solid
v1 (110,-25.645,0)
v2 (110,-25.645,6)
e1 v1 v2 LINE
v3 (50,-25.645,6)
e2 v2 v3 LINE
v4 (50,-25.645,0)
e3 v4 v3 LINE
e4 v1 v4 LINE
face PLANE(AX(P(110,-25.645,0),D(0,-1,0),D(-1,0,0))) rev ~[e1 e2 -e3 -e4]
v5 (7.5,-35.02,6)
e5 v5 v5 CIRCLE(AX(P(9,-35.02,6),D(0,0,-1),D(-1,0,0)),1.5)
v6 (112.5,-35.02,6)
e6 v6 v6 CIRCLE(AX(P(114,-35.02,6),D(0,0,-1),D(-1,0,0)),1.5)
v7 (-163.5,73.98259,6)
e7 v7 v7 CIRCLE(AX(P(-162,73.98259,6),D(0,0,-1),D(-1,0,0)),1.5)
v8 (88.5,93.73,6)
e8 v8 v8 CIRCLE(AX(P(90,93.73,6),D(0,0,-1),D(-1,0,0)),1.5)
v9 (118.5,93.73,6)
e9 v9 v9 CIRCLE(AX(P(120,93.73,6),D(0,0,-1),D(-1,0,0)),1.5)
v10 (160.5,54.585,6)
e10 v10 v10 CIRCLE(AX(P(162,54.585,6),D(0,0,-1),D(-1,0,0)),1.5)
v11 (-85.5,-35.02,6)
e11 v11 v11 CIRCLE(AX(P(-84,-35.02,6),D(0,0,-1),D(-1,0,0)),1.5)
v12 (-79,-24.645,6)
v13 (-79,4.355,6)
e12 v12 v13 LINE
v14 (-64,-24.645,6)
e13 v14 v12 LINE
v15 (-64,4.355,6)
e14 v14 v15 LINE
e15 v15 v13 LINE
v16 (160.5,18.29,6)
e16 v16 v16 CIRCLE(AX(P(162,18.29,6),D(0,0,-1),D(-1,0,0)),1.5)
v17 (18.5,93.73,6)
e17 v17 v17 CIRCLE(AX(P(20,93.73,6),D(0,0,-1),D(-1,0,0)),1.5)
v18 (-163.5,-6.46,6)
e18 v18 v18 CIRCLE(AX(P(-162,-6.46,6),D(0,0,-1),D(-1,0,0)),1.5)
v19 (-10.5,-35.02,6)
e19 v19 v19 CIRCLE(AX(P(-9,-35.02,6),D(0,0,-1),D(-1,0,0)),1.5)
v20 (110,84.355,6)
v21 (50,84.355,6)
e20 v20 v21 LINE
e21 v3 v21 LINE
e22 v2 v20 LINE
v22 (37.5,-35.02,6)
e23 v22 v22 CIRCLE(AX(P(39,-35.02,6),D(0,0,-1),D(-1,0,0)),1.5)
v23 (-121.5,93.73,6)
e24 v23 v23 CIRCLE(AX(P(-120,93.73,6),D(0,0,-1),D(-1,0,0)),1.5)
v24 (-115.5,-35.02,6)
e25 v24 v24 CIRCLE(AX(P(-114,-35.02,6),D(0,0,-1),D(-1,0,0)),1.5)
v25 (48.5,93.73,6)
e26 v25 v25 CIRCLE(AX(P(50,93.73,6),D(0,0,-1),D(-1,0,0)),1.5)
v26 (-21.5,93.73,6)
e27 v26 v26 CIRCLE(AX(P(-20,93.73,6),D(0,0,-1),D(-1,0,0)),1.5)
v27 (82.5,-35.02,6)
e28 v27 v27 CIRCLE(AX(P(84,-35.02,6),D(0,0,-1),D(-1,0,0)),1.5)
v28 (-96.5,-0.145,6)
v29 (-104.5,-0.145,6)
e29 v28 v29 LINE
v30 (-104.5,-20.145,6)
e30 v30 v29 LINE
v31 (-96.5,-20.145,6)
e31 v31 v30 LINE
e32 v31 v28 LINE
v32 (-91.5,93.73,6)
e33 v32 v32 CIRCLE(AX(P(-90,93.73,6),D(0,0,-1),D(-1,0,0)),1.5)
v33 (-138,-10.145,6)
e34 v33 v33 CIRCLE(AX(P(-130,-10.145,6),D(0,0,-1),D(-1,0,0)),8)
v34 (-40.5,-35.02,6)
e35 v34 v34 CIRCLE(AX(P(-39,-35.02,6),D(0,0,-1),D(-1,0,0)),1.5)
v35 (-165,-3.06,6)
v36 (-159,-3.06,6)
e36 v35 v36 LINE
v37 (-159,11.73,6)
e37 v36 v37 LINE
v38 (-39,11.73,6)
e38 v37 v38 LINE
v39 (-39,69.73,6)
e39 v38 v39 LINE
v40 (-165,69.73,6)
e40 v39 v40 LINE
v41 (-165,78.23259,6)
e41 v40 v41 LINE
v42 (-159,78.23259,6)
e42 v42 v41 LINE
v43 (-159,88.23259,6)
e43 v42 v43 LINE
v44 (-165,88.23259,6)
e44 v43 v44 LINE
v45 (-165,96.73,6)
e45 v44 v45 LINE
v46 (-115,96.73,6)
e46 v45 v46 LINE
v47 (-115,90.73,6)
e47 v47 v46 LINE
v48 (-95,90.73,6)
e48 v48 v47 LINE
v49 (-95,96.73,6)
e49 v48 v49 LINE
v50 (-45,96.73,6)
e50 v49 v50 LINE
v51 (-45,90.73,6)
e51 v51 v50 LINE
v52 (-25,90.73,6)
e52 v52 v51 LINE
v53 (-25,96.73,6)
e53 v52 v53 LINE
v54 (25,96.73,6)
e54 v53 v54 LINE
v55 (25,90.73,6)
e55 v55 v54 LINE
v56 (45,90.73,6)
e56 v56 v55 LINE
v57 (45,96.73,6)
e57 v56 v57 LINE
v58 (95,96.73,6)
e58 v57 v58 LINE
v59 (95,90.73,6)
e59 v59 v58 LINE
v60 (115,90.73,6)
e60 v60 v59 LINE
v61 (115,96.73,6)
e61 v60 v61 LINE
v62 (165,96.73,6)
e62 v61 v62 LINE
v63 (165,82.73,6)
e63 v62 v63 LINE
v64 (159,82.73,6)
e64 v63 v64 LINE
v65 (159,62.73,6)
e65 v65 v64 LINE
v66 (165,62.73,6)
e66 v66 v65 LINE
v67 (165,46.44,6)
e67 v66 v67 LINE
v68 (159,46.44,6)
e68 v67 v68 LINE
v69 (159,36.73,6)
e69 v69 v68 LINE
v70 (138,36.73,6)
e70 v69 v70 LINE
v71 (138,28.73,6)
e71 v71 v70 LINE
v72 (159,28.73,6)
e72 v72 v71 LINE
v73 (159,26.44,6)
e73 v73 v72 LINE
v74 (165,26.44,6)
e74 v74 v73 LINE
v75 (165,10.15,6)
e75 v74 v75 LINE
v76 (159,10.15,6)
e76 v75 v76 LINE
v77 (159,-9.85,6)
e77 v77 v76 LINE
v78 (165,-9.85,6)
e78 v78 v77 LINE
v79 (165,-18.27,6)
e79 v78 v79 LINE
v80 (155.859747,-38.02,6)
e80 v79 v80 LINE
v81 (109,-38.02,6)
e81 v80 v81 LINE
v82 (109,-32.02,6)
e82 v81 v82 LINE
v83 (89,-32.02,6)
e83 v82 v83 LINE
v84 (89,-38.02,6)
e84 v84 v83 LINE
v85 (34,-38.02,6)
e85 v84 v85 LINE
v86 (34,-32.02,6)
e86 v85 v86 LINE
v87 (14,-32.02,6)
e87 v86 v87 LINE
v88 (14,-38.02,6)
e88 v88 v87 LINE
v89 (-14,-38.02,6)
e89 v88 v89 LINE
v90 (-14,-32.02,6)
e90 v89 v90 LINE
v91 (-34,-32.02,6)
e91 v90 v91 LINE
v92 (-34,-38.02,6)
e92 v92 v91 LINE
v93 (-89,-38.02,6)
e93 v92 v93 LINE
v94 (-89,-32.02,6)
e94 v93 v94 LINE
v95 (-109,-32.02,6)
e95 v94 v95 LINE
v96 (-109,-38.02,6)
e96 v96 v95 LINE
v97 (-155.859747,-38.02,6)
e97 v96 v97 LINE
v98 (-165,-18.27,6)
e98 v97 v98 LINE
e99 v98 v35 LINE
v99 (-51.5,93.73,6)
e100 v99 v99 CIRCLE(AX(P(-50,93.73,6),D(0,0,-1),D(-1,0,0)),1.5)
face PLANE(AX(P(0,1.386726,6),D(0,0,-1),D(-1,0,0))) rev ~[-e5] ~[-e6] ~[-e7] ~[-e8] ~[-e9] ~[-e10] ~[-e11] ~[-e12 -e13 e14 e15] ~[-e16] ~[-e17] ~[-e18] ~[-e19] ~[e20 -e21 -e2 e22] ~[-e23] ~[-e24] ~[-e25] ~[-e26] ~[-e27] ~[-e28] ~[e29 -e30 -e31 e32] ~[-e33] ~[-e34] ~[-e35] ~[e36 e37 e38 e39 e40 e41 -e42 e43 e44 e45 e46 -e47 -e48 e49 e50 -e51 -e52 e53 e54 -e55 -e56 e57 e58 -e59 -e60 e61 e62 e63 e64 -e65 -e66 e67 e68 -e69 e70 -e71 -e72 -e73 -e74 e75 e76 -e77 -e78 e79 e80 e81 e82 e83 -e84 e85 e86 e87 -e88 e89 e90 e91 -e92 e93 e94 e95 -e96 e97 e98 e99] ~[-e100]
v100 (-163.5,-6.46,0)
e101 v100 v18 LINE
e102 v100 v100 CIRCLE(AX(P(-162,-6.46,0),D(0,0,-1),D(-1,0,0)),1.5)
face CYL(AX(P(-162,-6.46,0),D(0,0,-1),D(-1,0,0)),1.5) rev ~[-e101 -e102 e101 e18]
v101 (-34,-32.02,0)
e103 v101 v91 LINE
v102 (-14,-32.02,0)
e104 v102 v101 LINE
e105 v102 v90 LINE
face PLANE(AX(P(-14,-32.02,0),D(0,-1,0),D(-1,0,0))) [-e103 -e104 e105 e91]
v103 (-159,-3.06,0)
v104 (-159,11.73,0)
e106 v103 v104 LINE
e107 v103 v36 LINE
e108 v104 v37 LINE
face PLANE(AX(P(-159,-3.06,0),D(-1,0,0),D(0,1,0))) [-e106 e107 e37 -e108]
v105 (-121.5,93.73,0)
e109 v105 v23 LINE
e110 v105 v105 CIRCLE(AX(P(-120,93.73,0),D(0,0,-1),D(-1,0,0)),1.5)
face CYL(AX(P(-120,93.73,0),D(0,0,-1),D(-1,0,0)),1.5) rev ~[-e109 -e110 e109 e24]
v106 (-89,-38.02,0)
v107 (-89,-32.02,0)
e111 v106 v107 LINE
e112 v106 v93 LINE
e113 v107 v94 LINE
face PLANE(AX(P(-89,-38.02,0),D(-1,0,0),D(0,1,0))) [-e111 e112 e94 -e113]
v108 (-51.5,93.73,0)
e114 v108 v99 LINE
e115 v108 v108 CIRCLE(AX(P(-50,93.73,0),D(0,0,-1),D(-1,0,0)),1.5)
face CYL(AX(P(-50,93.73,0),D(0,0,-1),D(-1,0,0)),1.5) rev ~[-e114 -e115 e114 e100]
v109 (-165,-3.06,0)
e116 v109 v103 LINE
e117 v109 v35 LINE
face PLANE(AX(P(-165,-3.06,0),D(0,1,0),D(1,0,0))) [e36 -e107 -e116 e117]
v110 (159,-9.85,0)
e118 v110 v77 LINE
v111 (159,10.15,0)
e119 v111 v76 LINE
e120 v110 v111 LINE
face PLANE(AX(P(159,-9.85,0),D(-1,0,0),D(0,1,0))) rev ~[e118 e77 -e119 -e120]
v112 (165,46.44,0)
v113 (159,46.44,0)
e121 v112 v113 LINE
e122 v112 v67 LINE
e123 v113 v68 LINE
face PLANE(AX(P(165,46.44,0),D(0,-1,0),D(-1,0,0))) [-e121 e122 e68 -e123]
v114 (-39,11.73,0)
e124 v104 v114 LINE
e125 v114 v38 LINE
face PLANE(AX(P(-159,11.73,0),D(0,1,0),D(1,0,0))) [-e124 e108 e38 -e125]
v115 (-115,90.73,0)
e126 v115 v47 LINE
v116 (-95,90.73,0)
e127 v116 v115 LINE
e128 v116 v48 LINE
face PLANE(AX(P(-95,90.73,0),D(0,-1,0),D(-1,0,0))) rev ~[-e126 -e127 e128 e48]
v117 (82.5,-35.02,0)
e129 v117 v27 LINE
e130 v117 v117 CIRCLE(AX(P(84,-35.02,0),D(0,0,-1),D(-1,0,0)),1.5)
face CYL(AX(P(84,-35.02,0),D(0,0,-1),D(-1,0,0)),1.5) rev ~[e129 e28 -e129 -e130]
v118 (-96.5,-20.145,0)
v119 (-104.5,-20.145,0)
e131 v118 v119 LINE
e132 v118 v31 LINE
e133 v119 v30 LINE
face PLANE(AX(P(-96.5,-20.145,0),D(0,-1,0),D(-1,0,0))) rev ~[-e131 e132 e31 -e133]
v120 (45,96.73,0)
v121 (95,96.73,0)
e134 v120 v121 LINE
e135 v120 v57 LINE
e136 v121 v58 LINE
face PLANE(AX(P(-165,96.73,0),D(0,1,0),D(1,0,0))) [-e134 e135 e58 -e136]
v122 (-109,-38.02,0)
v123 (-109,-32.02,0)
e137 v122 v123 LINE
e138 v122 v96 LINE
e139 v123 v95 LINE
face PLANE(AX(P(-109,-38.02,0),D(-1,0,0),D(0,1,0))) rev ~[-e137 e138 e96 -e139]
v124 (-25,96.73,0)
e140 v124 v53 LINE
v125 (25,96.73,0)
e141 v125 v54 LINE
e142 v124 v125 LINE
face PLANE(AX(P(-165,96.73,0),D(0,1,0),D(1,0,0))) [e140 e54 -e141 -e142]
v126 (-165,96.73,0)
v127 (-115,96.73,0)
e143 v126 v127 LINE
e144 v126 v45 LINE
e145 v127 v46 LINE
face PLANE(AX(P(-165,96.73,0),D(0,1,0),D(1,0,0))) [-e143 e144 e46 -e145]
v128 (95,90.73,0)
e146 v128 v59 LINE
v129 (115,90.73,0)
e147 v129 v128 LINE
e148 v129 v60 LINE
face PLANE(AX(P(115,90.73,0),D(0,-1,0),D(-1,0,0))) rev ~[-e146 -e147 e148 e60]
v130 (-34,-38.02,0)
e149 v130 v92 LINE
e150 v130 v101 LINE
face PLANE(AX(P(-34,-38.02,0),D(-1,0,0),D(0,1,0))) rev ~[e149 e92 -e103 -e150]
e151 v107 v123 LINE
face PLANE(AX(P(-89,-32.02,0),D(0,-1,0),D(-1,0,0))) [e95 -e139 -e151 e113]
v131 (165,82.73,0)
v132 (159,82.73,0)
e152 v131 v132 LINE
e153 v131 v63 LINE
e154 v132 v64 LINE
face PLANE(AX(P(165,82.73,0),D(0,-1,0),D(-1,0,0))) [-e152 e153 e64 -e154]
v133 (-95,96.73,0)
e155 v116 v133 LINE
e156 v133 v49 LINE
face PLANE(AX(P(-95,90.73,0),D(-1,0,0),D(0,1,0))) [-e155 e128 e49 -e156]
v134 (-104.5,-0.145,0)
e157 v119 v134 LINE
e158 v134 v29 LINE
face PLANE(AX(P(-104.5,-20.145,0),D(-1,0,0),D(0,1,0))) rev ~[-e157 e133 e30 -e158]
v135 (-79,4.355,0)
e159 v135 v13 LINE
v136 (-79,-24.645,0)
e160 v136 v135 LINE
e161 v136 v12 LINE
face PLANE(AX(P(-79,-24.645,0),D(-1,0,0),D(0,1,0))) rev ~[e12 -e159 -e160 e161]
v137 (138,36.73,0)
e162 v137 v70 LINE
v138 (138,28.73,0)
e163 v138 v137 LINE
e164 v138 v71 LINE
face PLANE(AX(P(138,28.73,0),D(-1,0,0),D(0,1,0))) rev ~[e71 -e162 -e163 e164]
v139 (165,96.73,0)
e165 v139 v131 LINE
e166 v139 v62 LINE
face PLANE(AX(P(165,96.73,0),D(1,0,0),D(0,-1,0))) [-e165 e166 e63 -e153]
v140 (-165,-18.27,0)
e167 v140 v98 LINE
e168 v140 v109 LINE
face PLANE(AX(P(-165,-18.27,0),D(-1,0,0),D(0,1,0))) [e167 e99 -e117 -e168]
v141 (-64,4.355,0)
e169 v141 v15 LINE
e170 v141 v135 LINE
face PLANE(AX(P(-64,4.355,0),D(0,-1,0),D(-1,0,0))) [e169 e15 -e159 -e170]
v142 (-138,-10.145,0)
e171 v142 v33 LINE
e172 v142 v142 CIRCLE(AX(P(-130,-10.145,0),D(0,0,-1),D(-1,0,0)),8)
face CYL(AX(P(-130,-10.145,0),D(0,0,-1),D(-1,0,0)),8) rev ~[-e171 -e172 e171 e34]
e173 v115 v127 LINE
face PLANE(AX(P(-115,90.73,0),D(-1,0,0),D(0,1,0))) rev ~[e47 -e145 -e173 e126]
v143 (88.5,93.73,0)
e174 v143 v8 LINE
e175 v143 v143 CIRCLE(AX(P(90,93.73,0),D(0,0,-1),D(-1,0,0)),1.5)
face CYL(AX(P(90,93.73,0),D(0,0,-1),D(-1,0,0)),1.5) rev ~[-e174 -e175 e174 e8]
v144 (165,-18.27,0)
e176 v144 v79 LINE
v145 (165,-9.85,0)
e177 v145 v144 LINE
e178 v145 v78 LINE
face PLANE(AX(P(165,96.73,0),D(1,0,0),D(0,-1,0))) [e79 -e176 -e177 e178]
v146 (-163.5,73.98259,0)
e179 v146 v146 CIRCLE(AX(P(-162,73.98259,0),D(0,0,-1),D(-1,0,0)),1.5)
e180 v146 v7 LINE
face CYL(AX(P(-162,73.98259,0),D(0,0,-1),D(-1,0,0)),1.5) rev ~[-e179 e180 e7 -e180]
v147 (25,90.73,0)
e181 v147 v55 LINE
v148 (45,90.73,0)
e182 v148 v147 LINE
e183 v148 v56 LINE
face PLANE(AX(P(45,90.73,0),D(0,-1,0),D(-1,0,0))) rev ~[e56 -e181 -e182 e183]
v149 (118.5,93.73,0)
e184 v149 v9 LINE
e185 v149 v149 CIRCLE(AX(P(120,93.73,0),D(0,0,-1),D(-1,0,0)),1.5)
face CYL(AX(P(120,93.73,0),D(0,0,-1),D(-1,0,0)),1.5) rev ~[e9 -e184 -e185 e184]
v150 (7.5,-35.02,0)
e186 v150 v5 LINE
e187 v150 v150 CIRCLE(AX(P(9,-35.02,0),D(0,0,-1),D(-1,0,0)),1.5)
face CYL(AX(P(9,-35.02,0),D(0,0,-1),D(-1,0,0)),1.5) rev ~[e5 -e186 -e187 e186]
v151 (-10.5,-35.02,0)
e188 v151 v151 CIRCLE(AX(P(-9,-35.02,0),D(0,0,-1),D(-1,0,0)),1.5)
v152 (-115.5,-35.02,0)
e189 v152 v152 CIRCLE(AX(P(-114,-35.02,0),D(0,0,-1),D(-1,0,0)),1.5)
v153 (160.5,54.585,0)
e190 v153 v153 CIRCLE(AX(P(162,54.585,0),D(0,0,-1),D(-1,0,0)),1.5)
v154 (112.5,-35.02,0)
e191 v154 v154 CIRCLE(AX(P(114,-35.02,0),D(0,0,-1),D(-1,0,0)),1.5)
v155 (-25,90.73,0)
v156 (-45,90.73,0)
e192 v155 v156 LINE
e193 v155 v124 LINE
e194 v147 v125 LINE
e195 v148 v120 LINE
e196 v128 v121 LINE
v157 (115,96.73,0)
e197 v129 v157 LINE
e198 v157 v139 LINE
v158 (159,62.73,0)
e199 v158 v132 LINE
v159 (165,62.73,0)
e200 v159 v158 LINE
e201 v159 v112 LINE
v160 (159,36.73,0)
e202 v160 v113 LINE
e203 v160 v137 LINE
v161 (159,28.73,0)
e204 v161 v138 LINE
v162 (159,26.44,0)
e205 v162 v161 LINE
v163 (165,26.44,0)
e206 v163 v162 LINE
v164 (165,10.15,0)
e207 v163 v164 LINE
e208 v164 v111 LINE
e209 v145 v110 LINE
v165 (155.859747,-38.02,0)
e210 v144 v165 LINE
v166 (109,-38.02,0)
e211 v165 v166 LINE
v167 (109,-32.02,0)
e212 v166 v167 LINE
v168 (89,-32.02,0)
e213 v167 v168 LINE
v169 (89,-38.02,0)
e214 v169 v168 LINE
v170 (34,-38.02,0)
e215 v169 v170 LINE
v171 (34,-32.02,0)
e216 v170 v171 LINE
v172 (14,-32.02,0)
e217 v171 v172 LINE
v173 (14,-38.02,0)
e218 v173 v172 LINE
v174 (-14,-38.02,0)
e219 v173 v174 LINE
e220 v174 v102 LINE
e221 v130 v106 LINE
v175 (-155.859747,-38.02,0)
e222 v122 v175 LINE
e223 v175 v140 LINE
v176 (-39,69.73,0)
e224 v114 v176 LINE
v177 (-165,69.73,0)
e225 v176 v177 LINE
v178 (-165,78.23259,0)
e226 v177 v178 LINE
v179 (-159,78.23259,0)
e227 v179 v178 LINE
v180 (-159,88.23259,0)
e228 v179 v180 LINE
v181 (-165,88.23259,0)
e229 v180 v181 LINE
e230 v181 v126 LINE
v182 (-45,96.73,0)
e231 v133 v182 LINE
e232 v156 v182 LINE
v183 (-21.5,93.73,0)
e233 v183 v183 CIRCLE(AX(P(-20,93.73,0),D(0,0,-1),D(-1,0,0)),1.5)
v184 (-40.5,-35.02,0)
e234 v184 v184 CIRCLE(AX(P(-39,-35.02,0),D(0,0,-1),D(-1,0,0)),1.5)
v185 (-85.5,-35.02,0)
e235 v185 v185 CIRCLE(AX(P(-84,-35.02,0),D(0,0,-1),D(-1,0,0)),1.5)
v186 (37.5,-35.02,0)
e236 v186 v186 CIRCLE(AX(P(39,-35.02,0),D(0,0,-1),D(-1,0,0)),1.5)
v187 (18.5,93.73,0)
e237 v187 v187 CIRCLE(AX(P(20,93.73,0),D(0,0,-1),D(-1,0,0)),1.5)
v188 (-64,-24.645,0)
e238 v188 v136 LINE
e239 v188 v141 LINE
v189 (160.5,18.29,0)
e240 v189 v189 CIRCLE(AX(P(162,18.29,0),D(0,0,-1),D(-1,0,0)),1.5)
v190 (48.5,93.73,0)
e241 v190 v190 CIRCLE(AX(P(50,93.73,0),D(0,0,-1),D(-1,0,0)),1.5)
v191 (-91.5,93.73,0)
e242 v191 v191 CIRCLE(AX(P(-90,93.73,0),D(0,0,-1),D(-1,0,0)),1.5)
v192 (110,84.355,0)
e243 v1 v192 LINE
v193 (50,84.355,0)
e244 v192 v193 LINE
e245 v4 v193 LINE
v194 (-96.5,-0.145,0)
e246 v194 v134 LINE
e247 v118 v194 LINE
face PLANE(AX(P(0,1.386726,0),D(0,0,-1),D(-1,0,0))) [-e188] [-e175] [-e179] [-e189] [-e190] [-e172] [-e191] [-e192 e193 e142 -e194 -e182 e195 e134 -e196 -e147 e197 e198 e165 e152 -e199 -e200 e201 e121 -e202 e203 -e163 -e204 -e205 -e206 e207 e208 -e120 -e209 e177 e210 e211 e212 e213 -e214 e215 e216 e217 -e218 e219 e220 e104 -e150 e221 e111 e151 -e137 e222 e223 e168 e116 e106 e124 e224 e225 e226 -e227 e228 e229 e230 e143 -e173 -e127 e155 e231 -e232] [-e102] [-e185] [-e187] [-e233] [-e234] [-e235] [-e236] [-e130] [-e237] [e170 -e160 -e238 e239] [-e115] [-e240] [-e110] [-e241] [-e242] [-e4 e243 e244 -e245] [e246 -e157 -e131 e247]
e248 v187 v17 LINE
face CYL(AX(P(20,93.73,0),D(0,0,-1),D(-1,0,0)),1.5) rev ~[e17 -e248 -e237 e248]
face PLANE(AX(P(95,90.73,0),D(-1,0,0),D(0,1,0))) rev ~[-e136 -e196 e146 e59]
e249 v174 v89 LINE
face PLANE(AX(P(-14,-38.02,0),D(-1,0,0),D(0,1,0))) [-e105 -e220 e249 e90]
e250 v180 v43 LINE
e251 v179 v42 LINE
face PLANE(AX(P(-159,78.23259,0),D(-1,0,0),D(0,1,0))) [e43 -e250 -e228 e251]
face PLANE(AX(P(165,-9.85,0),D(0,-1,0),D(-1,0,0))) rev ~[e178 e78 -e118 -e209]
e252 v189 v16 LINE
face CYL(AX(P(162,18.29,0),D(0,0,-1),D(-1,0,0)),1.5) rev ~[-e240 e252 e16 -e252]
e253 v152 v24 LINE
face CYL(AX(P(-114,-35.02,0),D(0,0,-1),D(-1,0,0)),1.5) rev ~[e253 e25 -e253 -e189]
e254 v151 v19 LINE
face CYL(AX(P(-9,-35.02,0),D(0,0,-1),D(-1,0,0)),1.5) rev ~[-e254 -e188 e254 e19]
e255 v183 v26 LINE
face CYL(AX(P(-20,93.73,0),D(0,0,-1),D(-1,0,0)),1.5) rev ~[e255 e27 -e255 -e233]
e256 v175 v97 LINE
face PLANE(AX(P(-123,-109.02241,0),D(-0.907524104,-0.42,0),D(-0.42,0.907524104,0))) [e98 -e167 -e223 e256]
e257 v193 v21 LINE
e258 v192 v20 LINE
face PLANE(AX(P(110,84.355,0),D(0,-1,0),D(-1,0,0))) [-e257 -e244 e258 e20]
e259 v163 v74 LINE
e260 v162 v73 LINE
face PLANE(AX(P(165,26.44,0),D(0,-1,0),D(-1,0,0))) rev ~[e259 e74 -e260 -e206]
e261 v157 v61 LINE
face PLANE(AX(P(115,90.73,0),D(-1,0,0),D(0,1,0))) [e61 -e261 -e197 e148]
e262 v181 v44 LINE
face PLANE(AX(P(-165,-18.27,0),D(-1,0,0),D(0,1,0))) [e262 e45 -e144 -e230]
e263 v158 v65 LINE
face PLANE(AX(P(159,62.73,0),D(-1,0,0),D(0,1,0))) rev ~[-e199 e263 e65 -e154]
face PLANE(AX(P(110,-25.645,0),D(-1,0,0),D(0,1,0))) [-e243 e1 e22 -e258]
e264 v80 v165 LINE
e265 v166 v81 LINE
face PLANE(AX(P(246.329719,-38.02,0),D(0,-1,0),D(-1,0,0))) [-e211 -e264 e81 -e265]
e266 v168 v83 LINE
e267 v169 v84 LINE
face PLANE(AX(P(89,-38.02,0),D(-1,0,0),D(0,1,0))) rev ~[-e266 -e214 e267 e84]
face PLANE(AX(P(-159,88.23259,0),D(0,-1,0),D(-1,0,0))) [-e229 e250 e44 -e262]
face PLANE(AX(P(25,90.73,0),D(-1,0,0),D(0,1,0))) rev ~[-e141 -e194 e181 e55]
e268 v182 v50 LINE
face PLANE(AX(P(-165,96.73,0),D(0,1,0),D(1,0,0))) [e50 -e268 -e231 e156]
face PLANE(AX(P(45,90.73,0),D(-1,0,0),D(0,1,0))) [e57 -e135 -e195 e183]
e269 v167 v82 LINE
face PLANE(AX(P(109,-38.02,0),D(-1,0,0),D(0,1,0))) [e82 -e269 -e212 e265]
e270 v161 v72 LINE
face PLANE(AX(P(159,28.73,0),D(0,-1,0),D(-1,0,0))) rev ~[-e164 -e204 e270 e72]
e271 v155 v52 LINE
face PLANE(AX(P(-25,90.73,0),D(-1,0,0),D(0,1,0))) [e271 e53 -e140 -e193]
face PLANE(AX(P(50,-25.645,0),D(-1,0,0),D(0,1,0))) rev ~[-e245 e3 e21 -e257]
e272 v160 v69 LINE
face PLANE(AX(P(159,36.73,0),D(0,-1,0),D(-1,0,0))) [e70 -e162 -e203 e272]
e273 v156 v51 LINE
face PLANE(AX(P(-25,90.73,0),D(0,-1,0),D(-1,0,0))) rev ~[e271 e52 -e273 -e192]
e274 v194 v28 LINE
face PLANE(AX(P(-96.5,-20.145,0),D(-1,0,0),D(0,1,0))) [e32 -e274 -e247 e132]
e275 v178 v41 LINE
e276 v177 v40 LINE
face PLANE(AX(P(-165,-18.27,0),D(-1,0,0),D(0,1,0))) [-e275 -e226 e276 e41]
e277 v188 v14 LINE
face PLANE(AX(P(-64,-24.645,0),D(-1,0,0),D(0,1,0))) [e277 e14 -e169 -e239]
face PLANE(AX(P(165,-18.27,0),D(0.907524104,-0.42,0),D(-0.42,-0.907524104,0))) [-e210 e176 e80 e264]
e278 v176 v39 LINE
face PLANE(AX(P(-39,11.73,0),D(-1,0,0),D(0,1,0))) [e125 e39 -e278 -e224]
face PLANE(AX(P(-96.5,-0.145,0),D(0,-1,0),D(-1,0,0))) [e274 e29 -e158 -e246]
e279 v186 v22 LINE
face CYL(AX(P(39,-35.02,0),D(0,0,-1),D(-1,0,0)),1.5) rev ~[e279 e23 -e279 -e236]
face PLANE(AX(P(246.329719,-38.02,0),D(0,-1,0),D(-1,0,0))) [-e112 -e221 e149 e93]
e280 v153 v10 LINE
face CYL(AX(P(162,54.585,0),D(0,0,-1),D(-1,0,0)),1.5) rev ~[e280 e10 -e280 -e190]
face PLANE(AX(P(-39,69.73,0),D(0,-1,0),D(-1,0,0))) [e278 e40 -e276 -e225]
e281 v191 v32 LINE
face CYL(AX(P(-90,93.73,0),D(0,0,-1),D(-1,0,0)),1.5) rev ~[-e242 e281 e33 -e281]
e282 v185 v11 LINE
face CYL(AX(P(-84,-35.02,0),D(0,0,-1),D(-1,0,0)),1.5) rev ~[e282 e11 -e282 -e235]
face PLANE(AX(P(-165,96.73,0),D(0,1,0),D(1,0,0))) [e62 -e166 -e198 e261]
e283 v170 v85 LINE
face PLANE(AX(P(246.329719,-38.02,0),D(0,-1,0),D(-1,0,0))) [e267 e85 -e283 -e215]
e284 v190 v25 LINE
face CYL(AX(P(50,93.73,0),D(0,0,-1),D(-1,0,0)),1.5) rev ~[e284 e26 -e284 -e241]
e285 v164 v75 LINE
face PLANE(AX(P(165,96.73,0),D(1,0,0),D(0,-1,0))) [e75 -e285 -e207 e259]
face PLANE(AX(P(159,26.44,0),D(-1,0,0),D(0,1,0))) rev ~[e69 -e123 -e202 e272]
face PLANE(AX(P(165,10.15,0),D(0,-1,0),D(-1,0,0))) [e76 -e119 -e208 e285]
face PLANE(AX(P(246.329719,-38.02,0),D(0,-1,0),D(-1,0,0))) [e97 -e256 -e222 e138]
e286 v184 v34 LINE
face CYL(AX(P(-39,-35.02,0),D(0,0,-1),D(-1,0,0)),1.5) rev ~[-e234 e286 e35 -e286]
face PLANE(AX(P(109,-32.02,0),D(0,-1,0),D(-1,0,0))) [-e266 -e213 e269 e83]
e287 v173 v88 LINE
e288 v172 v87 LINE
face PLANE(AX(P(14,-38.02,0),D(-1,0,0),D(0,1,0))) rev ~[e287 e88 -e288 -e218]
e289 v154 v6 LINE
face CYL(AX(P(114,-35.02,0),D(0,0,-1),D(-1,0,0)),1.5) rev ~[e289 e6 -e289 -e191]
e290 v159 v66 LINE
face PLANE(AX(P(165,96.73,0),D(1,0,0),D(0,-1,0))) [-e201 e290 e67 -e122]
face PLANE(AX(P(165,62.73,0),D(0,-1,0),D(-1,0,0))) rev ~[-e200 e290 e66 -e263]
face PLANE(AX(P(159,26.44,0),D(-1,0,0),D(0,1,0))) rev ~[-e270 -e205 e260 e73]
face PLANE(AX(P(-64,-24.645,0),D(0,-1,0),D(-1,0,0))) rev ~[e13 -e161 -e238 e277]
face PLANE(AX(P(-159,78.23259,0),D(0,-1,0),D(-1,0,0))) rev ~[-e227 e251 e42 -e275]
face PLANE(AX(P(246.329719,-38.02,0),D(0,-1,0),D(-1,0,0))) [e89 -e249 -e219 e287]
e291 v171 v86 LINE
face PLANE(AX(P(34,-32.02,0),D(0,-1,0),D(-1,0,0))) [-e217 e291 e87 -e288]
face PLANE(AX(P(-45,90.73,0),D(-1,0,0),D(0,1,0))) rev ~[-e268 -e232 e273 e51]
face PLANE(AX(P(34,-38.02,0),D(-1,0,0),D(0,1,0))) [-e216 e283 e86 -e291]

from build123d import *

# Parameters (mm, degrees)
BOSS_EXTRU_1_DEPTH      = 6
ESQUISSE3_R             = 8
ESQUISSE3_W             = 6
ESQUISSE3_H             = 10
ESQUISSE3_W_2           = 20
ESQUISSE3_H_2           = 6
ESQUISSE3_W_3           = 60
ESQUISSE3_H_3           = 110
ESQUISSE3_H_4           = 20
ESQUISSE3_W_4           = 8
ESQUISSE3_W_5           = 15
ESQUISSE3_H_5           = 29
ENL_V_MAT_EXTRU_2_DEPTH = 6
ESQUISSE4_R             = 1.5
ENL_V_MAT_EXTRU_3_DEPTH = 6
ESQUISSE5_W             = 456.045253014
ESQUISSE5_H             = 136.228984631
ENL_V_MAT_EXTRU_4_DEPTH = 6
ESQUISSE6_W             = 21
ESQUISSE6_H             = 8
ENL_V_MAT_EXTRU_5_DEPTH = 10


with BuildPart() as part:
    # Esquisse1 → Boss.-Extru.1 (new body)
    with BuildSketch(Plane.XY):
        Polygon((-165, 96.73), (165, 96.73), (165, -18.27), (123, -109.022410436), (-123, -109.022410436), (-165, -18.27), align=None)
    extrude(amount=BOSS_EXTRU_1_DEPTH)

    # Esquisse3 → Enlèv. mat.-Extru.2 (cut)
    with BuildSketch(Plane(origin=(0, 0, 0), x_dir=(-1, 0, 0), z_dir=(0, 0, -1))):
        with Locations((130, -10.145)):
            Circle(ESQUISSE3_R)
        Polygon((165, -3.06), (159, -3.06), (159, 11.73), (39, 11.73), (39, 69.73), (165, 69.73), align=None)
        with Locations((162, 83.23258956)):
            Rectangle(ESQUISSE3_W, ESQUISSE3_H)
        with Locations((-24, -35.02)):
            Rectangle(ESQUISSE3_W_2, ESQUISSE3_H_2)
        with Locations((99, -35.02)):
            Rectangle(ESQUISSE3_W_2, ESQUISSE3_H_2)
        with Locations((-80, 29.355)):
            Rectangle(ESQUISSE3_W_3, ESQUISSE3_H_3)
        with Locations((-162, 72.73)):
            Rectangle(ESQUISSE3_W, ESQUISSE3_H_4)
        with Locations((24, -35.02)):
            Rectangle(ESQUISSE3_W_2, ESQUISSE3_H_2)
        with Locations((-162, 36.44)):
            Rectangle(ESQUISSE3_W, ESQUISSE3_H_4)
        with Locations((-162, 0.15)):
            Rectangle(ESQUISSE3_W, ESQUISSE3_H_4)
        with Locations((105, 93.73)):
            Rectangle(ESQUISSE3_W_2, ESQUISSE3_H_2)
        with Locations((-35, 93.73)):
            Rectangle(ESQUISSE3_W_2, ESQUISSE3_H_2)
        with Locations((35, 93.73)):
            Rectangle(ESQUISSE3_W_2, ESQUISSE3_H_2)
        with Locations((-105, 93.73)):
            Rectangle(ESQUISSE3_W_2, ESQUISSE3_H_2)
        with Locations((100.5, -10.145)):
            Rectangle(ESQUISSE3_W_4, ESQUISSE3_H_4)
        with Locations((-99, -35.02)):
            Rectangle(ESQUISSE3_W_2, ESQUISSE3_H_2)
        with Locations((71.5, -10.145)):
            Rectangle(ESQUISSE3_W_5, ESQUISSE3_H_5)
    extrude(amount=-ENL_V_MAT_EXTRU_2_DEPTH, mode=Mode.SUBTRACT)

    # Esquisse4 → Enlèv. mat.-Extru.3 (cut)
    with BuildSketch(Plane(origin=(0, 0, 0), x_dir=(-1, 0, 0), z_dir=(0, 0, -1))):
        with Locations((114, -35.02)):
            Circle(ESQUISSE4_R)
        with Locations((162, 73.98258956)):
            Circle(ESQUISSE4_R)
        with Locations((84, -35.02)):
            Circle(ESQUISSE4_R)
        with Locations((39, -35.02)):
            Circle(ESQUISSE4_R)
        with Locations((162, -6.46)):
            Circle(ESQUISSE4_R)
        with Locations((9, -35.02)):
            Circle(ESQUISSE4_R)
        with Locations((-9, -35.02)):
            Circle(ESQUISSE4_R)
        with Locations((-39, -35.02)):
            Circle(ESQUISSE4_R)
        with Locations((-84, -35.02)):
            Circle(ESQUISSE4_R)
        with Locations((120, 93.73)):
            Circle(ESQUISSE4_R)
        with Locations((-114, -35.02)):
            Circle(ESQUISSE4_R)
        with Locations((90, 93.73)):
            Circle(ESQUISSE4_R)
        with Locations((50, 93.73)):
            Circle(ESQUISSE4_R)
        with Locations((20, 93.73)):
            Circle(ESQUISSE4_R)
        with Locations((-162, 18.29)):
            Circle(ESQUISSE4_R)
        with Locations((-162, 54.585)):
            Circle(ESQUISSE4_R)
        with Locations((-20, 93.73)):
            Circle(ESQUISSE4_R)
        with Locations((-50, 93.73)):
            Circle(ESQUISSE4_R)
        with Locations((-90, 93.73)):
            Circle(ESQUISSE4_R)
        with Locations((-120, 93.73)):
            Circle(ESQUISSE4_R)
    extrude(amount=-ENL_V_MAT_EXTRU_3_DEPTH, mode=Mode.SUBTRACT)

    # Esquisse5 → Enlèv. mat.-Extru.4 (cut)
    with BuildSketch(Plane(origin=(0, 0, 0), x_dir=(-1, 0, 0), z_dir=(0, 0, -1))):
        with Locations((-18.307092018, -106.134492316)):
            Rectangle(ESQUISSE5_W, ESQUISSE5_H)
    extrude(amount=-ENL_V_MAT_EXTRU_4_DEPTH, mode=Mode.SUBTRACT)

    # Esquisse6 → Enlèv. mat.-Extru.5 (cut)
    with BuildSketch(Plane(origin=(0, 0, 0), x_dir=(-1, 0, 0), z_dir=(0, 0, -1))):
        with Locations((-148.5, 32.73)):
            Rectangle(ESQUISSE6_W, ESQUISSE6_H)
    extrude(amount=-ENL_V_MAT_EXTRU_5_DEPTH, mode=Mode.SUBTRACT)


solid = part.part
